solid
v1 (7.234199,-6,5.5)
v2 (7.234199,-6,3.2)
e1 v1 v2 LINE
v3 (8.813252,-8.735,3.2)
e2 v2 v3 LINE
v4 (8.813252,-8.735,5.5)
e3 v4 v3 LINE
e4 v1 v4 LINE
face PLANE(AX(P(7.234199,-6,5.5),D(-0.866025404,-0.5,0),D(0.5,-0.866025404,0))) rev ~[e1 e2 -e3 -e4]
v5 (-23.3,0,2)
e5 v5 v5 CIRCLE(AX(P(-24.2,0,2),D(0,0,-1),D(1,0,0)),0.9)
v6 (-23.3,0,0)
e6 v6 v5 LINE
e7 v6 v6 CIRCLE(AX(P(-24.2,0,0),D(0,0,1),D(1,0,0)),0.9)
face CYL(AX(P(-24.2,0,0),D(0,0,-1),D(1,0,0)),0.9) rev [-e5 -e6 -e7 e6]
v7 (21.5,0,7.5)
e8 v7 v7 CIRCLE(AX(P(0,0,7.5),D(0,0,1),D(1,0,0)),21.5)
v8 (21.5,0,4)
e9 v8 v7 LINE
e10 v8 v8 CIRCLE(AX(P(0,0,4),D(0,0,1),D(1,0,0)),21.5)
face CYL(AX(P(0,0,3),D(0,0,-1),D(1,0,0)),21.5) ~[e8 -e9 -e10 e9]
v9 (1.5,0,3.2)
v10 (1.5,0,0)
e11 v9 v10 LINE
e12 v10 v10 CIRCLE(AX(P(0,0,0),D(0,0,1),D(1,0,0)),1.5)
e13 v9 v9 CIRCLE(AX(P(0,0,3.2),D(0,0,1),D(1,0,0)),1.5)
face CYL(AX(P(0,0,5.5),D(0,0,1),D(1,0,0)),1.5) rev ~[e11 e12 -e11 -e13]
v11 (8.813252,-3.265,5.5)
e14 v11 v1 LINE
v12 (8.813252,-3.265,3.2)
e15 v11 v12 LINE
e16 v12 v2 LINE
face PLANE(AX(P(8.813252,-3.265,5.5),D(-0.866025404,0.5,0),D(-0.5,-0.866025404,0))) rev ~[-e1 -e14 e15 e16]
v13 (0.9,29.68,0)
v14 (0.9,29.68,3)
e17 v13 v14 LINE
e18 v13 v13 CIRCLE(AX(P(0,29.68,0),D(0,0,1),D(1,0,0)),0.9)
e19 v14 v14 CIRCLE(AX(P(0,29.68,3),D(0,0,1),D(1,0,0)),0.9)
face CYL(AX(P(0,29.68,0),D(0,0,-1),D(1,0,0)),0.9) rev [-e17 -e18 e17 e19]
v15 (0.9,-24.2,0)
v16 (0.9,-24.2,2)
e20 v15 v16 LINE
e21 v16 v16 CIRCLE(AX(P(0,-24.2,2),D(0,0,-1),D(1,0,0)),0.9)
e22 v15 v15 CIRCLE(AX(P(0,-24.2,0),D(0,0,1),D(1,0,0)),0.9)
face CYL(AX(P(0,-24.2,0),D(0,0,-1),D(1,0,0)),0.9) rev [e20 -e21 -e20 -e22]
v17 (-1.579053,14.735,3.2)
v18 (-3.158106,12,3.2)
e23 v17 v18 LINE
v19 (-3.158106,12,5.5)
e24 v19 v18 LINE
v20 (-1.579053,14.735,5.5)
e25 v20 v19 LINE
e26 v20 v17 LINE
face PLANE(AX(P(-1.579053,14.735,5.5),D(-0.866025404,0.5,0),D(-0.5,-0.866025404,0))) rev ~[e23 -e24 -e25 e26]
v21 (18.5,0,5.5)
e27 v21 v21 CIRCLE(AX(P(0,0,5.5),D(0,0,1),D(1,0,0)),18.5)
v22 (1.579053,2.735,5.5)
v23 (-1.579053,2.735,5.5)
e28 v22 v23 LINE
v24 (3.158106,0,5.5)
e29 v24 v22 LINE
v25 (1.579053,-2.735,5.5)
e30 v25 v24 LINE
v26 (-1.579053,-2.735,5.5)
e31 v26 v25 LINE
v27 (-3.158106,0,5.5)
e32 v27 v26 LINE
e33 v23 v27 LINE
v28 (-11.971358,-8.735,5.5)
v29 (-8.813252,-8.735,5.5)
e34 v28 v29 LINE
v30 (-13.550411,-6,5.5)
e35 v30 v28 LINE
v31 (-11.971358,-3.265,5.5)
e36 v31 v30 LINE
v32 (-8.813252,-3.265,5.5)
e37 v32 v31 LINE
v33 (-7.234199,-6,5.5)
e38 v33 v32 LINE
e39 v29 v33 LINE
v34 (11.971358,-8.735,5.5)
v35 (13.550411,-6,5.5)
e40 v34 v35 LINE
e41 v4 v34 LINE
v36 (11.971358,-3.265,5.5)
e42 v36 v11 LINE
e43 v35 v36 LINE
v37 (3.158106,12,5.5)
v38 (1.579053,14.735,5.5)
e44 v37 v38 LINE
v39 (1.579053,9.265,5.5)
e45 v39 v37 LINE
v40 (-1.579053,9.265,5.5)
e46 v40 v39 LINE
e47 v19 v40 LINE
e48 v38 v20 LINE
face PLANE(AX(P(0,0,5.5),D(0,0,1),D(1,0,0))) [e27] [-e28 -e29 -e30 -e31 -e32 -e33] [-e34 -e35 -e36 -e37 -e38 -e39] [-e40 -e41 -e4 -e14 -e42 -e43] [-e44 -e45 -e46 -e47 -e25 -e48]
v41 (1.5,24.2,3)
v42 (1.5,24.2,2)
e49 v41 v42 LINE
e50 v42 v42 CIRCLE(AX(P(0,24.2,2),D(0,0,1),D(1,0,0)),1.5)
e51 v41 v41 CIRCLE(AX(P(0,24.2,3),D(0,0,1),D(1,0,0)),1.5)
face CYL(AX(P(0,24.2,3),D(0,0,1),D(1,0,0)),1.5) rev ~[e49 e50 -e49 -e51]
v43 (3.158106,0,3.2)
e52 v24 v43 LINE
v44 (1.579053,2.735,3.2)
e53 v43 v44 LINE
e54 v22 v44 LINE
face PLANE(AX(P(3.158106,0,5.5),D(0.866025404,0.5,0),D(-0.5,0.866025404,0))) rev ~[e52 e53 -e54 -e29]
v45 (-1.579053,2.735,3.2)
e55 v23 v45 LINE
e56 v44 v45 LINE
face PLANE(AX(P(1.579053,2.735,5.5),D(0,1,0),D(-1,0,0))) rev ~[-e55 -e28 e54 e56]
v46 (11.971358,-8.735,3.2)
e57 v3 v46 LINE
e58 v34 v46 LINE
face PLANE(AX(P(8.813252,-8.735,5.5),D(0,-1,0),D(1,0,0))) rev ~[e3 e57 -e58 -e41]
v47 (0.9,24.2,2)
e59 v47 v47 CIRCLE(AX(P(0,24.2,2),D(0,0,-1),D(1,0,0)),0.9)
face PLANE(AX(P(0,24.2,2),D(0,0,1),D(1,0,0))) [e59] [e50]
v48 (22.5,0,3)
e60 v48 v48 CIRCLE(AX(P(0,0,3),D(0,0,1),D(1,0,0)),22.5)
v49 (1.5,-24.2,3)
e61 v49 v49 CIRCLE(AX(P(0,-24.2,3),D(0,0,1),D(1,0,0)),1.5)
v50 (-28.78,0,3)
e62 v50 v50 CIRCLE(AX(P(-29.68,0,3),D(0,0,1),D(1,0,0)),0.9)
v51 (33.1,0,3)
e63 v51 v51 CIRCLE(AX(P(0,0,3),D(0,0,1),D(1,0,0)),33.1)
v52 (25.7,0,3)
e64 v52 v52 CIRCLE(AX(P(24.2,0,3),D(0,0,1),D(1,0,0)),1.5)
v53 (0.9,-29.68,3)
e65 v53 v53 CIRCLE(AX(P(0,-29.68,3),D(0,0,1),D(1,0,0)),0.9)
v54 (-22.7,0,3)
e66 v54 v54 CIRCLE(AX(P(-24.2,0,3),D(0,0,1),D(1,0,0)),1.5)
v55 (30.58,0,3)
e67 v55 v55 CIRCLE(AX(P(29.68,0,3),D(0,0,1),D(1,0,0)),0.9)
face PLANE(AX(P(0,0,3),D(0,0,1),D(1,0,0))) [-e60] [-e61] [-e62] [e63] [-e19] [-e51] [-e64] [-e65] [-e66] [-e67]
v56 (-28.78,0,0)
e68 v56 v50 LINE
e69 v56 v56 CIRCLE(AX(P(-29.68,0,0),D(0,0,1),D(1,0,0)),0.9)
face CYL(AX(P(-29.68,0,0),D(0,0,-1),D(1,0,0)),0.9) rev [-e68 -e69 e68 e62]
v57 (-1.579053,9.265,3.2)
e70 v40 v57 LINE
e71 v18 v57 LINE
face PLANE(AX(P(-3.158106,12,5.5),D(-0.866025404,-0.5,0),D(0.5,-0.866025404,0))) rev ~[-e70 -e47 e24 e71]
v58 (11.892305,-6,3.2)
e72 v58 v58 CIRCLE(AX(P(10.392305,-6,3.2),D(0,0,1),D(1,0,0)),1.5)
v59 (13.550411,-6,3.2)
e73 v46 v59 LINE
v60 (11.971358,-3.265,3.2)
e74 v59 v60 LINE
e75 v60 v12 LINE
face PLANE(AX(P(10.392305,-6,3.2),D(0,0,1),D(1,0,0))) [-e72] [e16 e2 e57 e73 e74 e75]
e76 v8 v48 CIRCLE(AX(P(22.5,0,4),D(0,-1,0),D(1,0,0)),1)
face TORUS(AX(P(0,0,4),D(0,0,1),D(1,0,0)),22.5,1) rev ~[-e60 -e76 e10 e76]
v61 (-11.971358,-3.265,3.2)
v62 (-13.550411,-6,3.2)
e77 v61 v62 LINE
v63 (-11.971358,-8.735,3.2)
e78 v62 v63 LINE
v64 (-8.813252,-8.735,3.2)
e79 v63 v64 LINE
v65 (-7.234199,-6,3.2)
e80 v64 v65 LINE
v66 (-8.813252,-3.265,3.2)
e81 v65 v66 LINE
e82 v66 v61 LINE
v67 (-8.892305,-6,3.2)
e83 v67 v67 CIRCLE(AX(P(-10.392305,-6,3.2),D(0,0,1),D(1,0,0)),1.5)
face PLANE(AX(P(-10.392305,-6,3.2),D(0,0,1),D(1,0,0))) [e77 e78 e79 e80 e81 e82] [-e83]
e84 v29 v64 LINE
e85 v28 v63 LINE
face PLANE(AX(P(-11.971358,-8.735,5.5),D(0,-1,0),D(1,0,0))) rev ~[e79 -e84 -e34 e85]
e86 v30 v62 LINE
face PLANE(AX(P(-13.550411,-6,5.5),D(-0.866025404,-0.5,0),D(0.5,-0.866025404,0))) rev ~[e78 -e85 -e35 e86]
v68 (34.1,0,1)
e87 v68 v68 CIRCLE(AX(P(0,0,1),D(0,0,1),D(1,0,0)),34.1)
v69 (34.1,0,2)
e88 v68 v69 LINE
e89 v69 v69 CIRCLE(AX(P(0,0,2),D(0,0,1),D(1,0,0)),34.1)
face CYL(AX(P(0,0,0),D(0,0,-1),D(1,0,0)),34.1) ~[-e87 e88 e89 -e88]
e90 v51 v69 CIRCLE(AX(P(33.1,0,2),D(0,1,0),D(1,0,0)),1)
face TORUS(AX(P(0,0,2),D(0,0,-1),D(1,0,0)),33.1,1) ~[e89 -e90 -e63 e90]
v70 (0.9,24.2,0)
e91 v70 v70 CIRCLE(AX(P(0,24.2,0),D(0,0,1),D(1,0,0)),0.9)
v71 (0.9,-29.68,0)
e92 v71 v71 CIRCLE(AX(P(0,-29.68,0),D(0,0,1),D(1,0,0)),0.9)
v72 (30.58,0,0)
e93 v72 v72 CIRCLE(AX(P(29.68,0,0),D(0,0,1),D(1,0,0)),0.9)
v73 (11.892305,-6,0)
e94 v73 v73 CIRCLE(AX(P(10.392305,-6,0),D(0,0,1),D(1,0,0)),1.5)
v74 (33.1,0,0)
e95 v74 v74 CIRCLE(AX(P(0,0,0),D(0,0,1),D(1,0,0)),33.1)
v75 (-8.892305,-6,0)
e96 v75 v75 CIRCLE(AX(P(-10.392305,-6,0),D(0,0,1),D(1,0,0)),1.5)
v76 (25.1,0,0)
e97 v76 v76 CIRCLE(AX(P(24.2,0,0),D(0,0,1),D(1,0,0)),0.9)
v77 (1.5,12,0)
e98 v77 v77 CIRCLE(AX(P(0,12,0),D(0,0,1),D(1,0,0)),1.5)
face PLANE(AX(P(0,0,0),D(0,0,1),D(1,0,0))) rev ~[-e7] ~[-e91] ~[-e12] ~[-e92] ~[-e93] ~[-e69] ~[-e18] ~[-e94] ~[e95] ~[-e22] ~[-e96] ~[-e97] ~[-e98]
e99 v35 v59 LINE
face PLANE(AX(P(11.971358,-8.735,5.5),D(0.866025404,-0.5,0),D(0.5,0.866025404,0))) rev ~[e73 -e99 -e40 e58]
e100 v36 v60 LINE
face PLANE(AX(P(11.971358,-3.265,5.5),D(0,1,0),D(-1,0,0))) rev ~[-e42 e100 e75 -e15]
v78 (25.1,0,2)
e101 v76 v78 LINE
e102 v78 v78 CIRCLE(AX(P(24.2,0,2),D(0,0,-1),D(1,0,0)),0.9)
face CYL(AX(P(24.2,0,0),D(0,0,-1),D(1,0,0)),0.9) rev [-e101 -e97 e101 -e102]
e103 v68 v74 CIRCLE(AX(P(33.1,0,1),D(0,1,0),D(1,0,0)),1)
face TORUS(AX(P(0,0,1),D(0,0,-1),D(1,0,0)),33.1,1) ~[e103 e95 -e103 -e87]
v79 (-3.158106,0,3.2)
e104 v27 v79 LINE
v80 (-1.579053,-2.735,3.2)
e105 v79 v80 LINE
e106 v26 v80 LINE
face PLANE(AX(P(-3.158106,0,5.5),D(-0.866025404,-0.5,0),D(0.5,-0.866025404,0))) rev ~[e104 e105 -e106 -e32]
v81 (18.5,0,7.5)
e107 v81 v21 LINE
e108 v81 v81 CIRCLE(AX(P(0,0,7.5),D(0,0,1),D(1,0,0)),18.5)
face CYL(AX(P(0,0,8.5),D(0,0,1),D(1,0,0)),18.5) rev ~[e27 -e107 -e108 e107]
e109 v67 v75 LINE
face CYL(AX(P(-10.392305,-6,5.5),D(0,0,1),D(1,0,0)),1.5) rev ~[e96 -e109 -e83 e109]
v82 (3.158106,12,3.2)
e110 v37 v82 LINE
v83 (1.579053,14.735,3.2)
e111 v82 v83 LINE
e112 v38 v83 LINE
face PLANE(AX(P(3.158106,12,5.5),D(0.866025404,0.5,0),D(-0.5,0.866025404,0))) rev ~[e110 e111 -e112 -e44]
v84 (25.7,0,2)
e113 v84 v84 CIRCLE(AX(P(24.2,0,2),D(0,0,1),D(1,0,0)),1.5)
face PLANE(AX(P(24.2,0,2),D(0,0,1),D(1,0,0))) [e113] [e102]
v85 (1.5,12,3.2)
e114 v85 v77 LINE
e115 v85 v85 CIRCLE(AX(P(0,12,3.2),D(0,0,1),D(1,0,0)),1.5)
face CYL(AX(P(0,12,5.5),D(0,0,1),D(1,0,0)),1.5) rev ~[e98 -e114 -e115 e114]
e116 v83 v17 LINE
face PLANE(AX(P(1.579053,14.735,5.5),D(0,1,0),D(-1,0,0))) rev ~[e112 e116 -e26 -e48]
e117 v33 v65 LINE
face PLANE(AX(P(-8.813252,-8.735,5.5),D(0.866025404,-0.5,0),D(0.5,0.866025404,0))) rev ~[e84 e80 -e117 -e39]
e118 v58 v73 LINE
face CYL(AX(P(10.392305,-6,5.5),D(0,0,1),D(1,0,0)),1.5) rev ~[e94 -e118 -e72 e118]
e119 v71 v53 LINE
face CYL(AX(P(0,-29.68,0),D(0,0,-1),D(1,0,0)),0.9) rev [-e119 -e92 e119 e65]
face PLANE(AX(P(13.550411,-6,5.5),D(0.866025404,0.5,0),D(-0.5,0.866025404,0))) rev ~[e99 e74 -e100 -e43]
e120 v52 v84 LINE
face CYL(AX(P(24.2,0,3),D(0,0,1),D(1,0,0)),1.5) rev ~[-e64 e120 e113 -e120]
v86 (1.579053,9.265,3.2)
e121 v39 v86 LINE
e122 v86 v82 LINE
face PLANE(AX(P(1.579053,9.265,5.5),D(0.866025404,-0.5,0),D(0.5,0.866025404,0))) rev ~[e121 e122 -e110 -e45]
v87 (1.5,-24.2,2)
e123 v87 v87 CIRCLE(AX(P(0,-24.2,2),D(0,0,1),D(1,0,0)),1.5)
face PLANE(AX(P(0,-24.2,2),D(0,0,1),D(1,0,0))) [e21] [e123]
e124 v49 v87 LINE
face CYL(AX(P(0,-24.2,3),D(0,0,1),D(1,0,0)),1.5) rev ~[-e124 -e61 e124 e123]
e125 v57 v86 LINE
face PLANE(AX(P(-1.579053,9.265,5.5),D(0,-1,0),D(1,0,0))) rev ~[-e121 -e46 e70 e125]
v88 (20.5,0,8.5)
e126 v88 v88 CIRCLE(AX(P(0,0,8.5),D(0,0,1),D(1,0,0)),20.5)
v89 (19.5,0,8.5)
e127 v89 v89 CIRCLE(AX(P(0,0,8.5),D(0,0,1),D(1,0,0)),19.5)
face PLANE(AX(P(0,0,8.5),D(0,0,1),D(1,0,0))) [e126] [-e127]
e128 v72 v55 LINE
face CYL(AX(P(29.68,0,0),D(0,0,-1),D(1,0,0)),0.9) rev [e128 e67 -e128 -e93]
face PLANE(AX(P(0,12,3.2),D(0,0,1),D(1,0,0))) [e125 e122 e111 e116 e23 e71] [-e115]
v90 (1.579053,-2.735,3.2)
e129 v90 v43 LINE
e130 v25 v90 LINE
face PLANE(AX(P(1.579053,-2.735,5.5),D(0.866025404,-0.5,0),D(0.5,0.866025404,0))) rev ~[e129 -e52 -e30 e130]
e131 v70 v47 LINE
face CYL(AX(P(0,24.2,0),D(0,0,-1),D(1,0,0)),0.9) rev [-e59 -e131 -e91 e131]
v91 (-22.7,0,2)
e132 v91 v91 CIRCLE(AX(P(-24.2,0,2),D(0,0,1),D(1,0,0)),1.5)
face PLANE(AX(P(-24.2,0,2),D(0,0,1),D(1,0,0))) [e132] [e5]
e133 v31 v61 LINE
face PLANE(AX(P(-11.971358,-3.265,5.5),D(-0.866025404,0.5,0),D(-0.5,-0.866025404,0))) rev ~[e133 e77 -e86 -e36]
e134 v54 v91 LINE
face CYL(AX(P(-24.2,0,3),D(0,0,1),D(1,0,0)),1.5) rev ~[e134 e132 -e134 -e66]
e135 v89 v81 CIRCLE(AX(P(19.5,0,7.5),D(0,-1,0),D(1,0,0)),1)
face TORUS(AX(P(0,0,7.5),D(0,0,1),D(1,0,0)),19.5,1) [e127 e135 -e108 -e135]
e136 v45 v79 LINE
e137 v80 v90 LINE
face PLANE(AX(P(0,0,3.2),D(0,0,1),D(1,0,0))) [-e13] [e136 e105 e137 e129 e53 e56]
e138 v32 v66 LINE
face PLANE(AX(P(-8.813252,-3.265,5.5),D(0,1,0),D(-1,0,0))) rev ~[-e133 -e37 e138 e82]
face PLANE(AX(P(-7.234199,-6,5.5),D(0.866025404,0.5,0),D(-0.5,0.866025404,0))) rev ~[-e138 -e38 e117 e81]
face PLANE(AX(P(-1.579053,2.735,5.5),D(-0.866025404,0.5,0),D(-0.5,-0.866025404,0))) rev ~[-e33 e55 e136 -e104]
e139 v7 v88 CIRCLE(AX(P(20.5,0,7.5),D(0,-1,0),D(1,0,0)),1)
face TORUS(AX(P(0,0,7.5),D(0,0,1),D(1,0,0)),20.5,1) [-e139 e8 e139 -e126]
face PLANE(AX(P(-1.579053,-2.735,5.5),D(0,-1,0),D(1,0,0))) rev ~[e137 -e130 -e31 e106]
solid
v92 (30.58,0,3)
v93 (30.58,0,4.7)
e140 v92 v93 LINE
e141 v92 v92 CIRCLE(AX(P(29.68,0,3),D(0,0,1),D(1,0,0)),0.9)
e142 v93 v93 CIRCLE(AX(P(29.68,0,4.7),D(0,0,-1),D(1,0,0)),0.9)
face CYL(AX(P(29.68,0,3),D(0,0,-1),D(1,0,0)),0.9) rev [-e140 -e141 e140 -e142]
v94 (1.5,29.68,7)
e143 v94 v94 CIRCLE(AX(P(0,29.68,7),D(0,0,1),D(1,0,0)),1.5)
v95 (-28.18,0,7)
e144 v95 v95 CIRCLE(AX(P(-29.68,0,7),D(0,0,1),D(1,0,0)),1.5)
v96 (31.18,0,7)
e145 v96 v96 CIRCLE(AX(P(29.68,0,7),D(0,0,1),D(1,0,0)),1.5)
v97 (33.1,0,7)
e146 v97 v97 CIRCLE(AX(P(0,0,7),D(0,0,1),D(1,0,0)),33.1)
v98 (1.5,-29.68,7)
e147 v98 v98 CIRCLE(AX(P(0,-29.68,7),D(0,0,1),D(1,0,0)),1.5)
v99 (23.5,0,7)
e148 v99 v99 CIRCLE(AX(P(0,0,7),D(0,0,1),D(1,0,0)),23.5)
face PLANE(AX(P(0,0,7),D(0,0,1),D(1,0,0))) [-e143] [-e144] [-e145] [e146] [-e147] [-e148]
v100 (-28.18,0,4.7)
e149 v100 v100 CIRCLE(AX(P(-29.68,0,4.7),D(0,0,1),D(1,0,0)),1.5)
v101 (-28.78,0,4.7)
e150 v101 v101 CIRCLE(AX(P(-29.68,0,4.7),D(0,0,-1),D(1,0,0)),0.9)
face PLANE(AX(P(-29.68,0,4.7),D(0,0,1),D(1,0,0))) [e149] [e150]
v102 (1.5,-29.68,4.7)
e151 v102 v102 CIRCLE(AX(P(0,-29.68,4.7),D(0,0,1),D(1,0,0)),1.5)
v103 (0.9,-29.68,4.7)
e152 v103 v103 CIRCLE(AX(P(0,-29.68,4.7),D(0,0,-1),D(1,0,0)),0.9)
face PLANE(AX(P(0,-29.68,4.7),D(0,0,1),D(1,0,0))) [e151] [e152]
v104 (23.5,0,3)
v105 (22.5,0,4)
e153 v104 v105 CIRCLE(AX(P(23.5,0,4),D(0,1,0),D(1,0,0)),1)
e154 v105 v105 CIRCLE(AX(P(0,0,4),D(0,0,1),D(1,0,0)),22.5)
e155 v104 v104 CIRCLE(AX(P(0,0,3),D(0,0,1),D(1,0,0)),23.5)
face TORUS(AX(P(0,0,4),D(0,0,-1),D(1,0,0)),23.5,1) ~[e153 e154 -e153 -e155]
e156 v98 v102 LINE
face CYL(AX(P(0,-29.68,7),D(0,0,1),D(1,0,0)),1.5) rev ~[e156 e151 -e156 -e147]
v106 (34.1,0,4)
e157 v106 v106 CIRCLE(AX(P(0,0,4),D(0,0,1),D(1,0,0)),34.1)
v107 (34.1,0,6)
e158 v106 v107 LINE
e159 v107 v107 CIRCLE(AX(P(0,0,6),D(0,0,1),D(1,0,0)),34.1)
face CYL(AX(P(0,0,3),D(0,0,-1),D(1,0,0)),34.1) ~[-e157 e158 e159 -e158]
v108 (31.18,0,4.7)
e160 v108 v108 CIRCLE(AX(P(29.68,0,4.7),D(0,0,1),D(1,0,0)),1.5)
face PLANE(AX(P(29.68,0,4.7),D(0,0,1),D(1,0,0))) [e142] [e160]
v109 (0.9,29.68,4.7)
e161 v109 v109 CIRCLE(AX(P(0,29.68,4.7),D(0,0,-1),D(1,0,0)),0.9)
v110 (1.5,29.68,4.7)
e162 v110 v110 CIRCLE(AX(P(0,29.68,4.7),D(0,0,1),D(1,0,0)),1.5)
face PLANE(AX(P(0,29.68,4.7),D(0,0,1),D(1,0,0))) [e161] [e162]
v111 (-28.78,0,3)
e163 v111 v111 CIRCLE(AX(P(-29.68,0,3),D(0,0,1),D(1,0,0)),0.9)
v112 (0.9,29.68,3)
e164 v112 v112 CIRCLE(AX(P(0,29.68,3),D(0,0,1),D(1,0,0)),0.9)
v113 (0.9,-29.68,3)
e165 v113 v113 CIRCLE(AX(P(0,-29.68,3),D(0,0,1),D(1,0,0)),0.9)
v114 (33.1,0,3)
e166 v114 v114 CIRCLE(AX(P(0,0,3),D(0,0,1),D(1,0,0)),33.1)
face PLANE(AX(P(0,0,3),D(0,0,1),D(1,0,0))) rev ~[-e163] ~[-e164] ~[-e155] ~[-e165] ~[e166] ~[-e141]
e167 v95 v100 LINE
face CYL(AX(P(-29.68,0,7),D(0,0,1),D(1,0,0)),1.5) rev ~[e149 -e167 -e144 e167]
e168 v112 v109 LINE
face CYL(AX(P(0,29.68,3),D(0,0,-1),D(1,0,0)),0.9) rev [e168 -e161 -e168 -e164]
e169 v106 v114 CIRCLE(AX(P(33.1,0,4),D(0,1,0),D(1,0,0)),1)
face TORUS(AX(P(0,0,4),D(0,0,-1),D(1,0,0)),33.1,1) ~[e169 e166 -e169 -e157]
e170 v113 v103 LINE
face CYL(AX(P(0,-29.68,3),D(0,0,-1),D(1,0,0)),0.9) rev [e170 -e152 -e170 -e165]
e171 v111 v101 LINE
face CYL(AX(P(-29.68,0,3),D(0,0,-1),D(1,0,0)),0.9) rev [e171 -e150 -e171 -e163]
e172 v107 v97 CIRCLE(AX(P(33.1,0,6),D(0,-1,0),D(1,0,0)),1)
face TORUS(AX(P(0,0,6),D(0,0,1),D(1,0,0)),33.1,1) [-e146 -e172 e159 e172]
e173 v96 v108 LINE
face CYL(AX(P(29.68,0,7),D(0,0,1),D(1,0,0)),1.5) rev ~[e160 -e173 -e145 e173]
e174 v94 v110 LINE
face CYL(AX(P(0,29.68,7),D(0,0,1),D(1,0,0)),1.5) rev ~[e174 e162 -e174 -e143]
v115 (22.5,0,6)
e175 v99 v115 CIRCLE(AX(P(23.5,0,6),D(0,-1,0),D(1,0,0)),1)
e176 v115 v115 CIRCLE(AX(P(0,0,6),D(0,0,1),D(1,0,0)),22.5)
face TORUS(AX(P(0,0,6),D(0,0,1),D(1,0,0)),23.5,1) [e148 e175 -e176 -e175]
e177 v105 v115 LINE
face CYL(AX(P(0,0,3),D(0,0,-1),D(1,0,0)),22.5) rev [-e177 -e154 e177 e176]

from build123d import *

# Parameters (mm, degrees)
F0_R      = 34.1
F0_R_2    = 0.9
F1_DEPTH  = 3
F2_R      = 1.5
F3_DEPTH  = 1
F4_R      = 21.5
F5_DEPTH  = 5.5
F6_R      = 18.5
F7_DEPTH  = 3
F8_R      = 1.5
F9_DEPTH  = 2.3
F10_DEPTH = 5.501
F11_R     = 34.1
F11_R_2   = 1.5
F11_R_3   = 22.5
F11_R_4   = 0.9
F12_DEPTH = 4
F13_R     = 1.5
F14_DEPTH = 2.3
F15_R     = 1
F16_R     = 1
F17_R     = 1


with BuildPart() as f1:
    # F0 (on Top) → F1 (new body)
    with BuildSketch(Plane.XY):
        Circle(F0_R)
        with Locations((0, -29.68)):
            Circle(F0_R_2, mode=Mode.SUBTRACT)
        with Locations((0, -24.2)):
            Circle(F0_R_2, mode=Mode.SUBTRACT)
        with Locations((-29.68, 0)):
            Circle(F0_R_2, mode=Mode.SUBTRACT)
        with Locations((-24.2, 0)):
            Circle(F0_R_2, mode=Mode.SUBTRACT)
        with Locations((24.2, 0)):
            Circle(F0_R_2, mode=Mode.SUBTRACT)
        with Locations((29.68, 0)):
            Circle(F0_R_2, mode=Mode.SUBTRACT)
        with Locations((0, 24.2)):
            Circle(F0_R_2, mode=Mode.SUBTRACT)
        with Locations((0, 29.68)):
            Circle(F0_R_2, mode=Mode.SUBTRACT)
    extrude(amount=F1_DEPTH)

    # F2 (on face) → F3 (cut)
    with BuildSketch(Plane.XY.offset(3)):
        with Locations((0, 24.2)):
            Circle(F2_R)
        with Locations((-24.2, 0)):
            Circle(F2_R)
        with Locations((0, -24.2)):
            Circle(F2_R)
        with Locations((24.2, 0)):
            Circle(F2_R)
    extrude(amount=-F3_DEPTH, mode=Mode.SUBTRACT)

    # F4 (on face) → F5 (join)
    with BuildSketch(Plane.XY.offset(3)):
        Circle(F4_R)
    extrude(amount=F5_DEPTH)

    # F6 (on face) → F7 (cut)
    with BuildSketch(Plane.XY.offset(8.5)):
        Circle(F6_R)
    extrude(amount=-F7_DEPTH, mode=Mode.SUBTRACT)

    # F8 (on face) → F9 (cut)
    with BuildSketch(Plane.XY.offset(5.5)):
        Polygon((-1.5790529862, 9.265), (1.5790529862, 9.265), (3.1581059725, 12), (1.5790529862, 14.735), (-1.5790529862, 14.735), (-3.1581059725, 12), align=None)
        with Locations((0, 12)):
            Circle(F8_R, mode=Mode.SUBTRACT)
        Polygon((-8.8132518592, -3.265), (-11.9713578316, -3.265), (-13.5504108179, -6), (-11.9713578316, -8.735), (-8.8132518592, -8.735), (-7.2341988729, -6), align=None)
        with Locations((-10.3923048454, -6)):
            Circle(F8_R, mode=Mode.SUBTRACT)
        Polygon((7.2341988729, -6), (8.8132518592, -8.735), (11.9713578316, -8.735), (13.5504108179, -6), (11.9713578316, -3.265), (8.8132518592, -3.265), align=None)
        with Locations((10.3923048454, -6)):
            Circle(F8_R, mode=Mode.SUBTRACT)
        Polygon((-1.5790529862, -2.735), (1.5790529862, -2.735), (3.1581059725, 0), (1.5790529862, 2.735), (-1.5790529862, 2.735), (-3.1581059725, 0), align=None)
        Circle(F8_R, mode=Mode.SUBTRACT)
    extrude(amount=-F9_DEPTH, mode=Mode.SUBTRACT)

    # F10 (cut, through all): faces of the model
    f10_faces = [f1.faces().sort_by_distance(p)[0] for p in [
        (0, 12, 5.5),
        (10.3923048454, -6, 5.5),
        (-10.3923048454, -6, 5.5),
        (0, 0, 5.5),
        (0, 0, 5.5),
        (0, 0, 5.5),
        (0, 0, 5.5),
    ]]
    extrude(f10_faces, amount=-F10_DEPTH, mode=Mode.SUBTRACT)

    # F15
    f15_edges = [f1.edges().sort_by_distance(p)[0] for p in [
        (-21.5, 0, 8.5),
        (-18.5, 0, 8.5),
    ]]
    fillet(f15_edges, radius=F15_R)

    # F17
    f17_edges = [f1.edges().sort_by_distance(p)[0] for p in [
        (-34.1, 0, 3),
        (-34.1, 0, 0),
        (-21.5, 0, 3),
    ]]
    fillet(f17_edges, radius=F17_R)


with BuildPart() as f12:
    # F11 (on face) → F12 (new body)
    with BuildSketch(Plane.XY.offset(3)):
        Circle(F11_R)
        with Locations((0, -29.68)):
            Circle(F11_R_2, mode=Mode.SUBTRACT)
        with Locations((0, -24.2)):
            Circle(F11_R_2, mode=Mode.SUBTRACT)
        with Locations((-29.68, 0)):
            Circle(F11_R_2, mode=Mode.SUBTRACT)
        with Locations((-24.2, 0)):
            Circle(F11_R_2, mode=Mode.SUBTRACT)
        Circle(F11_R_3, mode=Mode.SUBTRACT)
        with Locations((24.2, 0)):
            Circle(F11_R_2, mode=Mode.SUBTRACT)
        with Locations((29.68, 0)):
            Circle(F11_R_2, mode=Mode.SUBTRACT)
        with Locations((0, 24.2)):
            Circle(F11_R_2, mode=Mode.SUBTRACT)
        with Locations((0, 29.68)):
            Circle(F11_R_2, mode=Mode.SUBTRACT)
        with Locations((-24.2, 0)):
            Circle(F11_R_2)
        with Locations((0, 24.2)):
            Circle(F11_R_2)
        with Locations((24.2, 0)):
            Circle(F11_R_2)
        with Locations((0, -24.2)):
            Circle(F11_R_2)
        with Locations((0, 29.68)):
            Circle(F11_R_2)
        with Locations((0, 29.68)):
            Circle(F11_R_4, mode=Mode.SUBTRACT)
        with Locations((-29.68, 0)):
            Circle(F11_R_2)
        with Locations((-29.68, 0)):
            Circle(F11_R_4, mode=Mode.SUBTRACT)
        with Locations((0, -29.68)):
            Circle(F11_R_2)
        with Locations((0, -29.68)):
            Circle(F11_R_4, mode=Mode.SUBTRACT)
        with Locations((29.68, 0)):
            Circle(F11_R_2)
        with Locations((29.68, 0)):
            Circle(F11_R_4, mode=Mode.SUBTRACT)
    extrude(amount=F12_DEPTH)

    # F13 (on face) → F14 (cut)
    with BuildSketch(Plane.XY.offset(7)):
        with Locations((0, 29.68)):
            Circle(F13_R)
        with Locations((-29.68, 0)):
            Circle(F13_R)
        with Locations((0, -29.68)):
            Circle(F13_R)
        with Locations((29.68, 0)):
            Circle(F13_R)
    extrude(amount=-F14_DEPTH, mode=Mode.SUBTRACT)

    # F16
    f16_edges = [f12.edges().sort_by_distance(p)[0] for p in [
        (-22.5, 0, 3),
        (-22.5, 0, 7),
        (-34.1, 0, 7),
        (-34.1, 0, 3),
    ]]
    fillet(f16_edges, radius=F16_R)


solid = Compound([f1.part, f12.part])
